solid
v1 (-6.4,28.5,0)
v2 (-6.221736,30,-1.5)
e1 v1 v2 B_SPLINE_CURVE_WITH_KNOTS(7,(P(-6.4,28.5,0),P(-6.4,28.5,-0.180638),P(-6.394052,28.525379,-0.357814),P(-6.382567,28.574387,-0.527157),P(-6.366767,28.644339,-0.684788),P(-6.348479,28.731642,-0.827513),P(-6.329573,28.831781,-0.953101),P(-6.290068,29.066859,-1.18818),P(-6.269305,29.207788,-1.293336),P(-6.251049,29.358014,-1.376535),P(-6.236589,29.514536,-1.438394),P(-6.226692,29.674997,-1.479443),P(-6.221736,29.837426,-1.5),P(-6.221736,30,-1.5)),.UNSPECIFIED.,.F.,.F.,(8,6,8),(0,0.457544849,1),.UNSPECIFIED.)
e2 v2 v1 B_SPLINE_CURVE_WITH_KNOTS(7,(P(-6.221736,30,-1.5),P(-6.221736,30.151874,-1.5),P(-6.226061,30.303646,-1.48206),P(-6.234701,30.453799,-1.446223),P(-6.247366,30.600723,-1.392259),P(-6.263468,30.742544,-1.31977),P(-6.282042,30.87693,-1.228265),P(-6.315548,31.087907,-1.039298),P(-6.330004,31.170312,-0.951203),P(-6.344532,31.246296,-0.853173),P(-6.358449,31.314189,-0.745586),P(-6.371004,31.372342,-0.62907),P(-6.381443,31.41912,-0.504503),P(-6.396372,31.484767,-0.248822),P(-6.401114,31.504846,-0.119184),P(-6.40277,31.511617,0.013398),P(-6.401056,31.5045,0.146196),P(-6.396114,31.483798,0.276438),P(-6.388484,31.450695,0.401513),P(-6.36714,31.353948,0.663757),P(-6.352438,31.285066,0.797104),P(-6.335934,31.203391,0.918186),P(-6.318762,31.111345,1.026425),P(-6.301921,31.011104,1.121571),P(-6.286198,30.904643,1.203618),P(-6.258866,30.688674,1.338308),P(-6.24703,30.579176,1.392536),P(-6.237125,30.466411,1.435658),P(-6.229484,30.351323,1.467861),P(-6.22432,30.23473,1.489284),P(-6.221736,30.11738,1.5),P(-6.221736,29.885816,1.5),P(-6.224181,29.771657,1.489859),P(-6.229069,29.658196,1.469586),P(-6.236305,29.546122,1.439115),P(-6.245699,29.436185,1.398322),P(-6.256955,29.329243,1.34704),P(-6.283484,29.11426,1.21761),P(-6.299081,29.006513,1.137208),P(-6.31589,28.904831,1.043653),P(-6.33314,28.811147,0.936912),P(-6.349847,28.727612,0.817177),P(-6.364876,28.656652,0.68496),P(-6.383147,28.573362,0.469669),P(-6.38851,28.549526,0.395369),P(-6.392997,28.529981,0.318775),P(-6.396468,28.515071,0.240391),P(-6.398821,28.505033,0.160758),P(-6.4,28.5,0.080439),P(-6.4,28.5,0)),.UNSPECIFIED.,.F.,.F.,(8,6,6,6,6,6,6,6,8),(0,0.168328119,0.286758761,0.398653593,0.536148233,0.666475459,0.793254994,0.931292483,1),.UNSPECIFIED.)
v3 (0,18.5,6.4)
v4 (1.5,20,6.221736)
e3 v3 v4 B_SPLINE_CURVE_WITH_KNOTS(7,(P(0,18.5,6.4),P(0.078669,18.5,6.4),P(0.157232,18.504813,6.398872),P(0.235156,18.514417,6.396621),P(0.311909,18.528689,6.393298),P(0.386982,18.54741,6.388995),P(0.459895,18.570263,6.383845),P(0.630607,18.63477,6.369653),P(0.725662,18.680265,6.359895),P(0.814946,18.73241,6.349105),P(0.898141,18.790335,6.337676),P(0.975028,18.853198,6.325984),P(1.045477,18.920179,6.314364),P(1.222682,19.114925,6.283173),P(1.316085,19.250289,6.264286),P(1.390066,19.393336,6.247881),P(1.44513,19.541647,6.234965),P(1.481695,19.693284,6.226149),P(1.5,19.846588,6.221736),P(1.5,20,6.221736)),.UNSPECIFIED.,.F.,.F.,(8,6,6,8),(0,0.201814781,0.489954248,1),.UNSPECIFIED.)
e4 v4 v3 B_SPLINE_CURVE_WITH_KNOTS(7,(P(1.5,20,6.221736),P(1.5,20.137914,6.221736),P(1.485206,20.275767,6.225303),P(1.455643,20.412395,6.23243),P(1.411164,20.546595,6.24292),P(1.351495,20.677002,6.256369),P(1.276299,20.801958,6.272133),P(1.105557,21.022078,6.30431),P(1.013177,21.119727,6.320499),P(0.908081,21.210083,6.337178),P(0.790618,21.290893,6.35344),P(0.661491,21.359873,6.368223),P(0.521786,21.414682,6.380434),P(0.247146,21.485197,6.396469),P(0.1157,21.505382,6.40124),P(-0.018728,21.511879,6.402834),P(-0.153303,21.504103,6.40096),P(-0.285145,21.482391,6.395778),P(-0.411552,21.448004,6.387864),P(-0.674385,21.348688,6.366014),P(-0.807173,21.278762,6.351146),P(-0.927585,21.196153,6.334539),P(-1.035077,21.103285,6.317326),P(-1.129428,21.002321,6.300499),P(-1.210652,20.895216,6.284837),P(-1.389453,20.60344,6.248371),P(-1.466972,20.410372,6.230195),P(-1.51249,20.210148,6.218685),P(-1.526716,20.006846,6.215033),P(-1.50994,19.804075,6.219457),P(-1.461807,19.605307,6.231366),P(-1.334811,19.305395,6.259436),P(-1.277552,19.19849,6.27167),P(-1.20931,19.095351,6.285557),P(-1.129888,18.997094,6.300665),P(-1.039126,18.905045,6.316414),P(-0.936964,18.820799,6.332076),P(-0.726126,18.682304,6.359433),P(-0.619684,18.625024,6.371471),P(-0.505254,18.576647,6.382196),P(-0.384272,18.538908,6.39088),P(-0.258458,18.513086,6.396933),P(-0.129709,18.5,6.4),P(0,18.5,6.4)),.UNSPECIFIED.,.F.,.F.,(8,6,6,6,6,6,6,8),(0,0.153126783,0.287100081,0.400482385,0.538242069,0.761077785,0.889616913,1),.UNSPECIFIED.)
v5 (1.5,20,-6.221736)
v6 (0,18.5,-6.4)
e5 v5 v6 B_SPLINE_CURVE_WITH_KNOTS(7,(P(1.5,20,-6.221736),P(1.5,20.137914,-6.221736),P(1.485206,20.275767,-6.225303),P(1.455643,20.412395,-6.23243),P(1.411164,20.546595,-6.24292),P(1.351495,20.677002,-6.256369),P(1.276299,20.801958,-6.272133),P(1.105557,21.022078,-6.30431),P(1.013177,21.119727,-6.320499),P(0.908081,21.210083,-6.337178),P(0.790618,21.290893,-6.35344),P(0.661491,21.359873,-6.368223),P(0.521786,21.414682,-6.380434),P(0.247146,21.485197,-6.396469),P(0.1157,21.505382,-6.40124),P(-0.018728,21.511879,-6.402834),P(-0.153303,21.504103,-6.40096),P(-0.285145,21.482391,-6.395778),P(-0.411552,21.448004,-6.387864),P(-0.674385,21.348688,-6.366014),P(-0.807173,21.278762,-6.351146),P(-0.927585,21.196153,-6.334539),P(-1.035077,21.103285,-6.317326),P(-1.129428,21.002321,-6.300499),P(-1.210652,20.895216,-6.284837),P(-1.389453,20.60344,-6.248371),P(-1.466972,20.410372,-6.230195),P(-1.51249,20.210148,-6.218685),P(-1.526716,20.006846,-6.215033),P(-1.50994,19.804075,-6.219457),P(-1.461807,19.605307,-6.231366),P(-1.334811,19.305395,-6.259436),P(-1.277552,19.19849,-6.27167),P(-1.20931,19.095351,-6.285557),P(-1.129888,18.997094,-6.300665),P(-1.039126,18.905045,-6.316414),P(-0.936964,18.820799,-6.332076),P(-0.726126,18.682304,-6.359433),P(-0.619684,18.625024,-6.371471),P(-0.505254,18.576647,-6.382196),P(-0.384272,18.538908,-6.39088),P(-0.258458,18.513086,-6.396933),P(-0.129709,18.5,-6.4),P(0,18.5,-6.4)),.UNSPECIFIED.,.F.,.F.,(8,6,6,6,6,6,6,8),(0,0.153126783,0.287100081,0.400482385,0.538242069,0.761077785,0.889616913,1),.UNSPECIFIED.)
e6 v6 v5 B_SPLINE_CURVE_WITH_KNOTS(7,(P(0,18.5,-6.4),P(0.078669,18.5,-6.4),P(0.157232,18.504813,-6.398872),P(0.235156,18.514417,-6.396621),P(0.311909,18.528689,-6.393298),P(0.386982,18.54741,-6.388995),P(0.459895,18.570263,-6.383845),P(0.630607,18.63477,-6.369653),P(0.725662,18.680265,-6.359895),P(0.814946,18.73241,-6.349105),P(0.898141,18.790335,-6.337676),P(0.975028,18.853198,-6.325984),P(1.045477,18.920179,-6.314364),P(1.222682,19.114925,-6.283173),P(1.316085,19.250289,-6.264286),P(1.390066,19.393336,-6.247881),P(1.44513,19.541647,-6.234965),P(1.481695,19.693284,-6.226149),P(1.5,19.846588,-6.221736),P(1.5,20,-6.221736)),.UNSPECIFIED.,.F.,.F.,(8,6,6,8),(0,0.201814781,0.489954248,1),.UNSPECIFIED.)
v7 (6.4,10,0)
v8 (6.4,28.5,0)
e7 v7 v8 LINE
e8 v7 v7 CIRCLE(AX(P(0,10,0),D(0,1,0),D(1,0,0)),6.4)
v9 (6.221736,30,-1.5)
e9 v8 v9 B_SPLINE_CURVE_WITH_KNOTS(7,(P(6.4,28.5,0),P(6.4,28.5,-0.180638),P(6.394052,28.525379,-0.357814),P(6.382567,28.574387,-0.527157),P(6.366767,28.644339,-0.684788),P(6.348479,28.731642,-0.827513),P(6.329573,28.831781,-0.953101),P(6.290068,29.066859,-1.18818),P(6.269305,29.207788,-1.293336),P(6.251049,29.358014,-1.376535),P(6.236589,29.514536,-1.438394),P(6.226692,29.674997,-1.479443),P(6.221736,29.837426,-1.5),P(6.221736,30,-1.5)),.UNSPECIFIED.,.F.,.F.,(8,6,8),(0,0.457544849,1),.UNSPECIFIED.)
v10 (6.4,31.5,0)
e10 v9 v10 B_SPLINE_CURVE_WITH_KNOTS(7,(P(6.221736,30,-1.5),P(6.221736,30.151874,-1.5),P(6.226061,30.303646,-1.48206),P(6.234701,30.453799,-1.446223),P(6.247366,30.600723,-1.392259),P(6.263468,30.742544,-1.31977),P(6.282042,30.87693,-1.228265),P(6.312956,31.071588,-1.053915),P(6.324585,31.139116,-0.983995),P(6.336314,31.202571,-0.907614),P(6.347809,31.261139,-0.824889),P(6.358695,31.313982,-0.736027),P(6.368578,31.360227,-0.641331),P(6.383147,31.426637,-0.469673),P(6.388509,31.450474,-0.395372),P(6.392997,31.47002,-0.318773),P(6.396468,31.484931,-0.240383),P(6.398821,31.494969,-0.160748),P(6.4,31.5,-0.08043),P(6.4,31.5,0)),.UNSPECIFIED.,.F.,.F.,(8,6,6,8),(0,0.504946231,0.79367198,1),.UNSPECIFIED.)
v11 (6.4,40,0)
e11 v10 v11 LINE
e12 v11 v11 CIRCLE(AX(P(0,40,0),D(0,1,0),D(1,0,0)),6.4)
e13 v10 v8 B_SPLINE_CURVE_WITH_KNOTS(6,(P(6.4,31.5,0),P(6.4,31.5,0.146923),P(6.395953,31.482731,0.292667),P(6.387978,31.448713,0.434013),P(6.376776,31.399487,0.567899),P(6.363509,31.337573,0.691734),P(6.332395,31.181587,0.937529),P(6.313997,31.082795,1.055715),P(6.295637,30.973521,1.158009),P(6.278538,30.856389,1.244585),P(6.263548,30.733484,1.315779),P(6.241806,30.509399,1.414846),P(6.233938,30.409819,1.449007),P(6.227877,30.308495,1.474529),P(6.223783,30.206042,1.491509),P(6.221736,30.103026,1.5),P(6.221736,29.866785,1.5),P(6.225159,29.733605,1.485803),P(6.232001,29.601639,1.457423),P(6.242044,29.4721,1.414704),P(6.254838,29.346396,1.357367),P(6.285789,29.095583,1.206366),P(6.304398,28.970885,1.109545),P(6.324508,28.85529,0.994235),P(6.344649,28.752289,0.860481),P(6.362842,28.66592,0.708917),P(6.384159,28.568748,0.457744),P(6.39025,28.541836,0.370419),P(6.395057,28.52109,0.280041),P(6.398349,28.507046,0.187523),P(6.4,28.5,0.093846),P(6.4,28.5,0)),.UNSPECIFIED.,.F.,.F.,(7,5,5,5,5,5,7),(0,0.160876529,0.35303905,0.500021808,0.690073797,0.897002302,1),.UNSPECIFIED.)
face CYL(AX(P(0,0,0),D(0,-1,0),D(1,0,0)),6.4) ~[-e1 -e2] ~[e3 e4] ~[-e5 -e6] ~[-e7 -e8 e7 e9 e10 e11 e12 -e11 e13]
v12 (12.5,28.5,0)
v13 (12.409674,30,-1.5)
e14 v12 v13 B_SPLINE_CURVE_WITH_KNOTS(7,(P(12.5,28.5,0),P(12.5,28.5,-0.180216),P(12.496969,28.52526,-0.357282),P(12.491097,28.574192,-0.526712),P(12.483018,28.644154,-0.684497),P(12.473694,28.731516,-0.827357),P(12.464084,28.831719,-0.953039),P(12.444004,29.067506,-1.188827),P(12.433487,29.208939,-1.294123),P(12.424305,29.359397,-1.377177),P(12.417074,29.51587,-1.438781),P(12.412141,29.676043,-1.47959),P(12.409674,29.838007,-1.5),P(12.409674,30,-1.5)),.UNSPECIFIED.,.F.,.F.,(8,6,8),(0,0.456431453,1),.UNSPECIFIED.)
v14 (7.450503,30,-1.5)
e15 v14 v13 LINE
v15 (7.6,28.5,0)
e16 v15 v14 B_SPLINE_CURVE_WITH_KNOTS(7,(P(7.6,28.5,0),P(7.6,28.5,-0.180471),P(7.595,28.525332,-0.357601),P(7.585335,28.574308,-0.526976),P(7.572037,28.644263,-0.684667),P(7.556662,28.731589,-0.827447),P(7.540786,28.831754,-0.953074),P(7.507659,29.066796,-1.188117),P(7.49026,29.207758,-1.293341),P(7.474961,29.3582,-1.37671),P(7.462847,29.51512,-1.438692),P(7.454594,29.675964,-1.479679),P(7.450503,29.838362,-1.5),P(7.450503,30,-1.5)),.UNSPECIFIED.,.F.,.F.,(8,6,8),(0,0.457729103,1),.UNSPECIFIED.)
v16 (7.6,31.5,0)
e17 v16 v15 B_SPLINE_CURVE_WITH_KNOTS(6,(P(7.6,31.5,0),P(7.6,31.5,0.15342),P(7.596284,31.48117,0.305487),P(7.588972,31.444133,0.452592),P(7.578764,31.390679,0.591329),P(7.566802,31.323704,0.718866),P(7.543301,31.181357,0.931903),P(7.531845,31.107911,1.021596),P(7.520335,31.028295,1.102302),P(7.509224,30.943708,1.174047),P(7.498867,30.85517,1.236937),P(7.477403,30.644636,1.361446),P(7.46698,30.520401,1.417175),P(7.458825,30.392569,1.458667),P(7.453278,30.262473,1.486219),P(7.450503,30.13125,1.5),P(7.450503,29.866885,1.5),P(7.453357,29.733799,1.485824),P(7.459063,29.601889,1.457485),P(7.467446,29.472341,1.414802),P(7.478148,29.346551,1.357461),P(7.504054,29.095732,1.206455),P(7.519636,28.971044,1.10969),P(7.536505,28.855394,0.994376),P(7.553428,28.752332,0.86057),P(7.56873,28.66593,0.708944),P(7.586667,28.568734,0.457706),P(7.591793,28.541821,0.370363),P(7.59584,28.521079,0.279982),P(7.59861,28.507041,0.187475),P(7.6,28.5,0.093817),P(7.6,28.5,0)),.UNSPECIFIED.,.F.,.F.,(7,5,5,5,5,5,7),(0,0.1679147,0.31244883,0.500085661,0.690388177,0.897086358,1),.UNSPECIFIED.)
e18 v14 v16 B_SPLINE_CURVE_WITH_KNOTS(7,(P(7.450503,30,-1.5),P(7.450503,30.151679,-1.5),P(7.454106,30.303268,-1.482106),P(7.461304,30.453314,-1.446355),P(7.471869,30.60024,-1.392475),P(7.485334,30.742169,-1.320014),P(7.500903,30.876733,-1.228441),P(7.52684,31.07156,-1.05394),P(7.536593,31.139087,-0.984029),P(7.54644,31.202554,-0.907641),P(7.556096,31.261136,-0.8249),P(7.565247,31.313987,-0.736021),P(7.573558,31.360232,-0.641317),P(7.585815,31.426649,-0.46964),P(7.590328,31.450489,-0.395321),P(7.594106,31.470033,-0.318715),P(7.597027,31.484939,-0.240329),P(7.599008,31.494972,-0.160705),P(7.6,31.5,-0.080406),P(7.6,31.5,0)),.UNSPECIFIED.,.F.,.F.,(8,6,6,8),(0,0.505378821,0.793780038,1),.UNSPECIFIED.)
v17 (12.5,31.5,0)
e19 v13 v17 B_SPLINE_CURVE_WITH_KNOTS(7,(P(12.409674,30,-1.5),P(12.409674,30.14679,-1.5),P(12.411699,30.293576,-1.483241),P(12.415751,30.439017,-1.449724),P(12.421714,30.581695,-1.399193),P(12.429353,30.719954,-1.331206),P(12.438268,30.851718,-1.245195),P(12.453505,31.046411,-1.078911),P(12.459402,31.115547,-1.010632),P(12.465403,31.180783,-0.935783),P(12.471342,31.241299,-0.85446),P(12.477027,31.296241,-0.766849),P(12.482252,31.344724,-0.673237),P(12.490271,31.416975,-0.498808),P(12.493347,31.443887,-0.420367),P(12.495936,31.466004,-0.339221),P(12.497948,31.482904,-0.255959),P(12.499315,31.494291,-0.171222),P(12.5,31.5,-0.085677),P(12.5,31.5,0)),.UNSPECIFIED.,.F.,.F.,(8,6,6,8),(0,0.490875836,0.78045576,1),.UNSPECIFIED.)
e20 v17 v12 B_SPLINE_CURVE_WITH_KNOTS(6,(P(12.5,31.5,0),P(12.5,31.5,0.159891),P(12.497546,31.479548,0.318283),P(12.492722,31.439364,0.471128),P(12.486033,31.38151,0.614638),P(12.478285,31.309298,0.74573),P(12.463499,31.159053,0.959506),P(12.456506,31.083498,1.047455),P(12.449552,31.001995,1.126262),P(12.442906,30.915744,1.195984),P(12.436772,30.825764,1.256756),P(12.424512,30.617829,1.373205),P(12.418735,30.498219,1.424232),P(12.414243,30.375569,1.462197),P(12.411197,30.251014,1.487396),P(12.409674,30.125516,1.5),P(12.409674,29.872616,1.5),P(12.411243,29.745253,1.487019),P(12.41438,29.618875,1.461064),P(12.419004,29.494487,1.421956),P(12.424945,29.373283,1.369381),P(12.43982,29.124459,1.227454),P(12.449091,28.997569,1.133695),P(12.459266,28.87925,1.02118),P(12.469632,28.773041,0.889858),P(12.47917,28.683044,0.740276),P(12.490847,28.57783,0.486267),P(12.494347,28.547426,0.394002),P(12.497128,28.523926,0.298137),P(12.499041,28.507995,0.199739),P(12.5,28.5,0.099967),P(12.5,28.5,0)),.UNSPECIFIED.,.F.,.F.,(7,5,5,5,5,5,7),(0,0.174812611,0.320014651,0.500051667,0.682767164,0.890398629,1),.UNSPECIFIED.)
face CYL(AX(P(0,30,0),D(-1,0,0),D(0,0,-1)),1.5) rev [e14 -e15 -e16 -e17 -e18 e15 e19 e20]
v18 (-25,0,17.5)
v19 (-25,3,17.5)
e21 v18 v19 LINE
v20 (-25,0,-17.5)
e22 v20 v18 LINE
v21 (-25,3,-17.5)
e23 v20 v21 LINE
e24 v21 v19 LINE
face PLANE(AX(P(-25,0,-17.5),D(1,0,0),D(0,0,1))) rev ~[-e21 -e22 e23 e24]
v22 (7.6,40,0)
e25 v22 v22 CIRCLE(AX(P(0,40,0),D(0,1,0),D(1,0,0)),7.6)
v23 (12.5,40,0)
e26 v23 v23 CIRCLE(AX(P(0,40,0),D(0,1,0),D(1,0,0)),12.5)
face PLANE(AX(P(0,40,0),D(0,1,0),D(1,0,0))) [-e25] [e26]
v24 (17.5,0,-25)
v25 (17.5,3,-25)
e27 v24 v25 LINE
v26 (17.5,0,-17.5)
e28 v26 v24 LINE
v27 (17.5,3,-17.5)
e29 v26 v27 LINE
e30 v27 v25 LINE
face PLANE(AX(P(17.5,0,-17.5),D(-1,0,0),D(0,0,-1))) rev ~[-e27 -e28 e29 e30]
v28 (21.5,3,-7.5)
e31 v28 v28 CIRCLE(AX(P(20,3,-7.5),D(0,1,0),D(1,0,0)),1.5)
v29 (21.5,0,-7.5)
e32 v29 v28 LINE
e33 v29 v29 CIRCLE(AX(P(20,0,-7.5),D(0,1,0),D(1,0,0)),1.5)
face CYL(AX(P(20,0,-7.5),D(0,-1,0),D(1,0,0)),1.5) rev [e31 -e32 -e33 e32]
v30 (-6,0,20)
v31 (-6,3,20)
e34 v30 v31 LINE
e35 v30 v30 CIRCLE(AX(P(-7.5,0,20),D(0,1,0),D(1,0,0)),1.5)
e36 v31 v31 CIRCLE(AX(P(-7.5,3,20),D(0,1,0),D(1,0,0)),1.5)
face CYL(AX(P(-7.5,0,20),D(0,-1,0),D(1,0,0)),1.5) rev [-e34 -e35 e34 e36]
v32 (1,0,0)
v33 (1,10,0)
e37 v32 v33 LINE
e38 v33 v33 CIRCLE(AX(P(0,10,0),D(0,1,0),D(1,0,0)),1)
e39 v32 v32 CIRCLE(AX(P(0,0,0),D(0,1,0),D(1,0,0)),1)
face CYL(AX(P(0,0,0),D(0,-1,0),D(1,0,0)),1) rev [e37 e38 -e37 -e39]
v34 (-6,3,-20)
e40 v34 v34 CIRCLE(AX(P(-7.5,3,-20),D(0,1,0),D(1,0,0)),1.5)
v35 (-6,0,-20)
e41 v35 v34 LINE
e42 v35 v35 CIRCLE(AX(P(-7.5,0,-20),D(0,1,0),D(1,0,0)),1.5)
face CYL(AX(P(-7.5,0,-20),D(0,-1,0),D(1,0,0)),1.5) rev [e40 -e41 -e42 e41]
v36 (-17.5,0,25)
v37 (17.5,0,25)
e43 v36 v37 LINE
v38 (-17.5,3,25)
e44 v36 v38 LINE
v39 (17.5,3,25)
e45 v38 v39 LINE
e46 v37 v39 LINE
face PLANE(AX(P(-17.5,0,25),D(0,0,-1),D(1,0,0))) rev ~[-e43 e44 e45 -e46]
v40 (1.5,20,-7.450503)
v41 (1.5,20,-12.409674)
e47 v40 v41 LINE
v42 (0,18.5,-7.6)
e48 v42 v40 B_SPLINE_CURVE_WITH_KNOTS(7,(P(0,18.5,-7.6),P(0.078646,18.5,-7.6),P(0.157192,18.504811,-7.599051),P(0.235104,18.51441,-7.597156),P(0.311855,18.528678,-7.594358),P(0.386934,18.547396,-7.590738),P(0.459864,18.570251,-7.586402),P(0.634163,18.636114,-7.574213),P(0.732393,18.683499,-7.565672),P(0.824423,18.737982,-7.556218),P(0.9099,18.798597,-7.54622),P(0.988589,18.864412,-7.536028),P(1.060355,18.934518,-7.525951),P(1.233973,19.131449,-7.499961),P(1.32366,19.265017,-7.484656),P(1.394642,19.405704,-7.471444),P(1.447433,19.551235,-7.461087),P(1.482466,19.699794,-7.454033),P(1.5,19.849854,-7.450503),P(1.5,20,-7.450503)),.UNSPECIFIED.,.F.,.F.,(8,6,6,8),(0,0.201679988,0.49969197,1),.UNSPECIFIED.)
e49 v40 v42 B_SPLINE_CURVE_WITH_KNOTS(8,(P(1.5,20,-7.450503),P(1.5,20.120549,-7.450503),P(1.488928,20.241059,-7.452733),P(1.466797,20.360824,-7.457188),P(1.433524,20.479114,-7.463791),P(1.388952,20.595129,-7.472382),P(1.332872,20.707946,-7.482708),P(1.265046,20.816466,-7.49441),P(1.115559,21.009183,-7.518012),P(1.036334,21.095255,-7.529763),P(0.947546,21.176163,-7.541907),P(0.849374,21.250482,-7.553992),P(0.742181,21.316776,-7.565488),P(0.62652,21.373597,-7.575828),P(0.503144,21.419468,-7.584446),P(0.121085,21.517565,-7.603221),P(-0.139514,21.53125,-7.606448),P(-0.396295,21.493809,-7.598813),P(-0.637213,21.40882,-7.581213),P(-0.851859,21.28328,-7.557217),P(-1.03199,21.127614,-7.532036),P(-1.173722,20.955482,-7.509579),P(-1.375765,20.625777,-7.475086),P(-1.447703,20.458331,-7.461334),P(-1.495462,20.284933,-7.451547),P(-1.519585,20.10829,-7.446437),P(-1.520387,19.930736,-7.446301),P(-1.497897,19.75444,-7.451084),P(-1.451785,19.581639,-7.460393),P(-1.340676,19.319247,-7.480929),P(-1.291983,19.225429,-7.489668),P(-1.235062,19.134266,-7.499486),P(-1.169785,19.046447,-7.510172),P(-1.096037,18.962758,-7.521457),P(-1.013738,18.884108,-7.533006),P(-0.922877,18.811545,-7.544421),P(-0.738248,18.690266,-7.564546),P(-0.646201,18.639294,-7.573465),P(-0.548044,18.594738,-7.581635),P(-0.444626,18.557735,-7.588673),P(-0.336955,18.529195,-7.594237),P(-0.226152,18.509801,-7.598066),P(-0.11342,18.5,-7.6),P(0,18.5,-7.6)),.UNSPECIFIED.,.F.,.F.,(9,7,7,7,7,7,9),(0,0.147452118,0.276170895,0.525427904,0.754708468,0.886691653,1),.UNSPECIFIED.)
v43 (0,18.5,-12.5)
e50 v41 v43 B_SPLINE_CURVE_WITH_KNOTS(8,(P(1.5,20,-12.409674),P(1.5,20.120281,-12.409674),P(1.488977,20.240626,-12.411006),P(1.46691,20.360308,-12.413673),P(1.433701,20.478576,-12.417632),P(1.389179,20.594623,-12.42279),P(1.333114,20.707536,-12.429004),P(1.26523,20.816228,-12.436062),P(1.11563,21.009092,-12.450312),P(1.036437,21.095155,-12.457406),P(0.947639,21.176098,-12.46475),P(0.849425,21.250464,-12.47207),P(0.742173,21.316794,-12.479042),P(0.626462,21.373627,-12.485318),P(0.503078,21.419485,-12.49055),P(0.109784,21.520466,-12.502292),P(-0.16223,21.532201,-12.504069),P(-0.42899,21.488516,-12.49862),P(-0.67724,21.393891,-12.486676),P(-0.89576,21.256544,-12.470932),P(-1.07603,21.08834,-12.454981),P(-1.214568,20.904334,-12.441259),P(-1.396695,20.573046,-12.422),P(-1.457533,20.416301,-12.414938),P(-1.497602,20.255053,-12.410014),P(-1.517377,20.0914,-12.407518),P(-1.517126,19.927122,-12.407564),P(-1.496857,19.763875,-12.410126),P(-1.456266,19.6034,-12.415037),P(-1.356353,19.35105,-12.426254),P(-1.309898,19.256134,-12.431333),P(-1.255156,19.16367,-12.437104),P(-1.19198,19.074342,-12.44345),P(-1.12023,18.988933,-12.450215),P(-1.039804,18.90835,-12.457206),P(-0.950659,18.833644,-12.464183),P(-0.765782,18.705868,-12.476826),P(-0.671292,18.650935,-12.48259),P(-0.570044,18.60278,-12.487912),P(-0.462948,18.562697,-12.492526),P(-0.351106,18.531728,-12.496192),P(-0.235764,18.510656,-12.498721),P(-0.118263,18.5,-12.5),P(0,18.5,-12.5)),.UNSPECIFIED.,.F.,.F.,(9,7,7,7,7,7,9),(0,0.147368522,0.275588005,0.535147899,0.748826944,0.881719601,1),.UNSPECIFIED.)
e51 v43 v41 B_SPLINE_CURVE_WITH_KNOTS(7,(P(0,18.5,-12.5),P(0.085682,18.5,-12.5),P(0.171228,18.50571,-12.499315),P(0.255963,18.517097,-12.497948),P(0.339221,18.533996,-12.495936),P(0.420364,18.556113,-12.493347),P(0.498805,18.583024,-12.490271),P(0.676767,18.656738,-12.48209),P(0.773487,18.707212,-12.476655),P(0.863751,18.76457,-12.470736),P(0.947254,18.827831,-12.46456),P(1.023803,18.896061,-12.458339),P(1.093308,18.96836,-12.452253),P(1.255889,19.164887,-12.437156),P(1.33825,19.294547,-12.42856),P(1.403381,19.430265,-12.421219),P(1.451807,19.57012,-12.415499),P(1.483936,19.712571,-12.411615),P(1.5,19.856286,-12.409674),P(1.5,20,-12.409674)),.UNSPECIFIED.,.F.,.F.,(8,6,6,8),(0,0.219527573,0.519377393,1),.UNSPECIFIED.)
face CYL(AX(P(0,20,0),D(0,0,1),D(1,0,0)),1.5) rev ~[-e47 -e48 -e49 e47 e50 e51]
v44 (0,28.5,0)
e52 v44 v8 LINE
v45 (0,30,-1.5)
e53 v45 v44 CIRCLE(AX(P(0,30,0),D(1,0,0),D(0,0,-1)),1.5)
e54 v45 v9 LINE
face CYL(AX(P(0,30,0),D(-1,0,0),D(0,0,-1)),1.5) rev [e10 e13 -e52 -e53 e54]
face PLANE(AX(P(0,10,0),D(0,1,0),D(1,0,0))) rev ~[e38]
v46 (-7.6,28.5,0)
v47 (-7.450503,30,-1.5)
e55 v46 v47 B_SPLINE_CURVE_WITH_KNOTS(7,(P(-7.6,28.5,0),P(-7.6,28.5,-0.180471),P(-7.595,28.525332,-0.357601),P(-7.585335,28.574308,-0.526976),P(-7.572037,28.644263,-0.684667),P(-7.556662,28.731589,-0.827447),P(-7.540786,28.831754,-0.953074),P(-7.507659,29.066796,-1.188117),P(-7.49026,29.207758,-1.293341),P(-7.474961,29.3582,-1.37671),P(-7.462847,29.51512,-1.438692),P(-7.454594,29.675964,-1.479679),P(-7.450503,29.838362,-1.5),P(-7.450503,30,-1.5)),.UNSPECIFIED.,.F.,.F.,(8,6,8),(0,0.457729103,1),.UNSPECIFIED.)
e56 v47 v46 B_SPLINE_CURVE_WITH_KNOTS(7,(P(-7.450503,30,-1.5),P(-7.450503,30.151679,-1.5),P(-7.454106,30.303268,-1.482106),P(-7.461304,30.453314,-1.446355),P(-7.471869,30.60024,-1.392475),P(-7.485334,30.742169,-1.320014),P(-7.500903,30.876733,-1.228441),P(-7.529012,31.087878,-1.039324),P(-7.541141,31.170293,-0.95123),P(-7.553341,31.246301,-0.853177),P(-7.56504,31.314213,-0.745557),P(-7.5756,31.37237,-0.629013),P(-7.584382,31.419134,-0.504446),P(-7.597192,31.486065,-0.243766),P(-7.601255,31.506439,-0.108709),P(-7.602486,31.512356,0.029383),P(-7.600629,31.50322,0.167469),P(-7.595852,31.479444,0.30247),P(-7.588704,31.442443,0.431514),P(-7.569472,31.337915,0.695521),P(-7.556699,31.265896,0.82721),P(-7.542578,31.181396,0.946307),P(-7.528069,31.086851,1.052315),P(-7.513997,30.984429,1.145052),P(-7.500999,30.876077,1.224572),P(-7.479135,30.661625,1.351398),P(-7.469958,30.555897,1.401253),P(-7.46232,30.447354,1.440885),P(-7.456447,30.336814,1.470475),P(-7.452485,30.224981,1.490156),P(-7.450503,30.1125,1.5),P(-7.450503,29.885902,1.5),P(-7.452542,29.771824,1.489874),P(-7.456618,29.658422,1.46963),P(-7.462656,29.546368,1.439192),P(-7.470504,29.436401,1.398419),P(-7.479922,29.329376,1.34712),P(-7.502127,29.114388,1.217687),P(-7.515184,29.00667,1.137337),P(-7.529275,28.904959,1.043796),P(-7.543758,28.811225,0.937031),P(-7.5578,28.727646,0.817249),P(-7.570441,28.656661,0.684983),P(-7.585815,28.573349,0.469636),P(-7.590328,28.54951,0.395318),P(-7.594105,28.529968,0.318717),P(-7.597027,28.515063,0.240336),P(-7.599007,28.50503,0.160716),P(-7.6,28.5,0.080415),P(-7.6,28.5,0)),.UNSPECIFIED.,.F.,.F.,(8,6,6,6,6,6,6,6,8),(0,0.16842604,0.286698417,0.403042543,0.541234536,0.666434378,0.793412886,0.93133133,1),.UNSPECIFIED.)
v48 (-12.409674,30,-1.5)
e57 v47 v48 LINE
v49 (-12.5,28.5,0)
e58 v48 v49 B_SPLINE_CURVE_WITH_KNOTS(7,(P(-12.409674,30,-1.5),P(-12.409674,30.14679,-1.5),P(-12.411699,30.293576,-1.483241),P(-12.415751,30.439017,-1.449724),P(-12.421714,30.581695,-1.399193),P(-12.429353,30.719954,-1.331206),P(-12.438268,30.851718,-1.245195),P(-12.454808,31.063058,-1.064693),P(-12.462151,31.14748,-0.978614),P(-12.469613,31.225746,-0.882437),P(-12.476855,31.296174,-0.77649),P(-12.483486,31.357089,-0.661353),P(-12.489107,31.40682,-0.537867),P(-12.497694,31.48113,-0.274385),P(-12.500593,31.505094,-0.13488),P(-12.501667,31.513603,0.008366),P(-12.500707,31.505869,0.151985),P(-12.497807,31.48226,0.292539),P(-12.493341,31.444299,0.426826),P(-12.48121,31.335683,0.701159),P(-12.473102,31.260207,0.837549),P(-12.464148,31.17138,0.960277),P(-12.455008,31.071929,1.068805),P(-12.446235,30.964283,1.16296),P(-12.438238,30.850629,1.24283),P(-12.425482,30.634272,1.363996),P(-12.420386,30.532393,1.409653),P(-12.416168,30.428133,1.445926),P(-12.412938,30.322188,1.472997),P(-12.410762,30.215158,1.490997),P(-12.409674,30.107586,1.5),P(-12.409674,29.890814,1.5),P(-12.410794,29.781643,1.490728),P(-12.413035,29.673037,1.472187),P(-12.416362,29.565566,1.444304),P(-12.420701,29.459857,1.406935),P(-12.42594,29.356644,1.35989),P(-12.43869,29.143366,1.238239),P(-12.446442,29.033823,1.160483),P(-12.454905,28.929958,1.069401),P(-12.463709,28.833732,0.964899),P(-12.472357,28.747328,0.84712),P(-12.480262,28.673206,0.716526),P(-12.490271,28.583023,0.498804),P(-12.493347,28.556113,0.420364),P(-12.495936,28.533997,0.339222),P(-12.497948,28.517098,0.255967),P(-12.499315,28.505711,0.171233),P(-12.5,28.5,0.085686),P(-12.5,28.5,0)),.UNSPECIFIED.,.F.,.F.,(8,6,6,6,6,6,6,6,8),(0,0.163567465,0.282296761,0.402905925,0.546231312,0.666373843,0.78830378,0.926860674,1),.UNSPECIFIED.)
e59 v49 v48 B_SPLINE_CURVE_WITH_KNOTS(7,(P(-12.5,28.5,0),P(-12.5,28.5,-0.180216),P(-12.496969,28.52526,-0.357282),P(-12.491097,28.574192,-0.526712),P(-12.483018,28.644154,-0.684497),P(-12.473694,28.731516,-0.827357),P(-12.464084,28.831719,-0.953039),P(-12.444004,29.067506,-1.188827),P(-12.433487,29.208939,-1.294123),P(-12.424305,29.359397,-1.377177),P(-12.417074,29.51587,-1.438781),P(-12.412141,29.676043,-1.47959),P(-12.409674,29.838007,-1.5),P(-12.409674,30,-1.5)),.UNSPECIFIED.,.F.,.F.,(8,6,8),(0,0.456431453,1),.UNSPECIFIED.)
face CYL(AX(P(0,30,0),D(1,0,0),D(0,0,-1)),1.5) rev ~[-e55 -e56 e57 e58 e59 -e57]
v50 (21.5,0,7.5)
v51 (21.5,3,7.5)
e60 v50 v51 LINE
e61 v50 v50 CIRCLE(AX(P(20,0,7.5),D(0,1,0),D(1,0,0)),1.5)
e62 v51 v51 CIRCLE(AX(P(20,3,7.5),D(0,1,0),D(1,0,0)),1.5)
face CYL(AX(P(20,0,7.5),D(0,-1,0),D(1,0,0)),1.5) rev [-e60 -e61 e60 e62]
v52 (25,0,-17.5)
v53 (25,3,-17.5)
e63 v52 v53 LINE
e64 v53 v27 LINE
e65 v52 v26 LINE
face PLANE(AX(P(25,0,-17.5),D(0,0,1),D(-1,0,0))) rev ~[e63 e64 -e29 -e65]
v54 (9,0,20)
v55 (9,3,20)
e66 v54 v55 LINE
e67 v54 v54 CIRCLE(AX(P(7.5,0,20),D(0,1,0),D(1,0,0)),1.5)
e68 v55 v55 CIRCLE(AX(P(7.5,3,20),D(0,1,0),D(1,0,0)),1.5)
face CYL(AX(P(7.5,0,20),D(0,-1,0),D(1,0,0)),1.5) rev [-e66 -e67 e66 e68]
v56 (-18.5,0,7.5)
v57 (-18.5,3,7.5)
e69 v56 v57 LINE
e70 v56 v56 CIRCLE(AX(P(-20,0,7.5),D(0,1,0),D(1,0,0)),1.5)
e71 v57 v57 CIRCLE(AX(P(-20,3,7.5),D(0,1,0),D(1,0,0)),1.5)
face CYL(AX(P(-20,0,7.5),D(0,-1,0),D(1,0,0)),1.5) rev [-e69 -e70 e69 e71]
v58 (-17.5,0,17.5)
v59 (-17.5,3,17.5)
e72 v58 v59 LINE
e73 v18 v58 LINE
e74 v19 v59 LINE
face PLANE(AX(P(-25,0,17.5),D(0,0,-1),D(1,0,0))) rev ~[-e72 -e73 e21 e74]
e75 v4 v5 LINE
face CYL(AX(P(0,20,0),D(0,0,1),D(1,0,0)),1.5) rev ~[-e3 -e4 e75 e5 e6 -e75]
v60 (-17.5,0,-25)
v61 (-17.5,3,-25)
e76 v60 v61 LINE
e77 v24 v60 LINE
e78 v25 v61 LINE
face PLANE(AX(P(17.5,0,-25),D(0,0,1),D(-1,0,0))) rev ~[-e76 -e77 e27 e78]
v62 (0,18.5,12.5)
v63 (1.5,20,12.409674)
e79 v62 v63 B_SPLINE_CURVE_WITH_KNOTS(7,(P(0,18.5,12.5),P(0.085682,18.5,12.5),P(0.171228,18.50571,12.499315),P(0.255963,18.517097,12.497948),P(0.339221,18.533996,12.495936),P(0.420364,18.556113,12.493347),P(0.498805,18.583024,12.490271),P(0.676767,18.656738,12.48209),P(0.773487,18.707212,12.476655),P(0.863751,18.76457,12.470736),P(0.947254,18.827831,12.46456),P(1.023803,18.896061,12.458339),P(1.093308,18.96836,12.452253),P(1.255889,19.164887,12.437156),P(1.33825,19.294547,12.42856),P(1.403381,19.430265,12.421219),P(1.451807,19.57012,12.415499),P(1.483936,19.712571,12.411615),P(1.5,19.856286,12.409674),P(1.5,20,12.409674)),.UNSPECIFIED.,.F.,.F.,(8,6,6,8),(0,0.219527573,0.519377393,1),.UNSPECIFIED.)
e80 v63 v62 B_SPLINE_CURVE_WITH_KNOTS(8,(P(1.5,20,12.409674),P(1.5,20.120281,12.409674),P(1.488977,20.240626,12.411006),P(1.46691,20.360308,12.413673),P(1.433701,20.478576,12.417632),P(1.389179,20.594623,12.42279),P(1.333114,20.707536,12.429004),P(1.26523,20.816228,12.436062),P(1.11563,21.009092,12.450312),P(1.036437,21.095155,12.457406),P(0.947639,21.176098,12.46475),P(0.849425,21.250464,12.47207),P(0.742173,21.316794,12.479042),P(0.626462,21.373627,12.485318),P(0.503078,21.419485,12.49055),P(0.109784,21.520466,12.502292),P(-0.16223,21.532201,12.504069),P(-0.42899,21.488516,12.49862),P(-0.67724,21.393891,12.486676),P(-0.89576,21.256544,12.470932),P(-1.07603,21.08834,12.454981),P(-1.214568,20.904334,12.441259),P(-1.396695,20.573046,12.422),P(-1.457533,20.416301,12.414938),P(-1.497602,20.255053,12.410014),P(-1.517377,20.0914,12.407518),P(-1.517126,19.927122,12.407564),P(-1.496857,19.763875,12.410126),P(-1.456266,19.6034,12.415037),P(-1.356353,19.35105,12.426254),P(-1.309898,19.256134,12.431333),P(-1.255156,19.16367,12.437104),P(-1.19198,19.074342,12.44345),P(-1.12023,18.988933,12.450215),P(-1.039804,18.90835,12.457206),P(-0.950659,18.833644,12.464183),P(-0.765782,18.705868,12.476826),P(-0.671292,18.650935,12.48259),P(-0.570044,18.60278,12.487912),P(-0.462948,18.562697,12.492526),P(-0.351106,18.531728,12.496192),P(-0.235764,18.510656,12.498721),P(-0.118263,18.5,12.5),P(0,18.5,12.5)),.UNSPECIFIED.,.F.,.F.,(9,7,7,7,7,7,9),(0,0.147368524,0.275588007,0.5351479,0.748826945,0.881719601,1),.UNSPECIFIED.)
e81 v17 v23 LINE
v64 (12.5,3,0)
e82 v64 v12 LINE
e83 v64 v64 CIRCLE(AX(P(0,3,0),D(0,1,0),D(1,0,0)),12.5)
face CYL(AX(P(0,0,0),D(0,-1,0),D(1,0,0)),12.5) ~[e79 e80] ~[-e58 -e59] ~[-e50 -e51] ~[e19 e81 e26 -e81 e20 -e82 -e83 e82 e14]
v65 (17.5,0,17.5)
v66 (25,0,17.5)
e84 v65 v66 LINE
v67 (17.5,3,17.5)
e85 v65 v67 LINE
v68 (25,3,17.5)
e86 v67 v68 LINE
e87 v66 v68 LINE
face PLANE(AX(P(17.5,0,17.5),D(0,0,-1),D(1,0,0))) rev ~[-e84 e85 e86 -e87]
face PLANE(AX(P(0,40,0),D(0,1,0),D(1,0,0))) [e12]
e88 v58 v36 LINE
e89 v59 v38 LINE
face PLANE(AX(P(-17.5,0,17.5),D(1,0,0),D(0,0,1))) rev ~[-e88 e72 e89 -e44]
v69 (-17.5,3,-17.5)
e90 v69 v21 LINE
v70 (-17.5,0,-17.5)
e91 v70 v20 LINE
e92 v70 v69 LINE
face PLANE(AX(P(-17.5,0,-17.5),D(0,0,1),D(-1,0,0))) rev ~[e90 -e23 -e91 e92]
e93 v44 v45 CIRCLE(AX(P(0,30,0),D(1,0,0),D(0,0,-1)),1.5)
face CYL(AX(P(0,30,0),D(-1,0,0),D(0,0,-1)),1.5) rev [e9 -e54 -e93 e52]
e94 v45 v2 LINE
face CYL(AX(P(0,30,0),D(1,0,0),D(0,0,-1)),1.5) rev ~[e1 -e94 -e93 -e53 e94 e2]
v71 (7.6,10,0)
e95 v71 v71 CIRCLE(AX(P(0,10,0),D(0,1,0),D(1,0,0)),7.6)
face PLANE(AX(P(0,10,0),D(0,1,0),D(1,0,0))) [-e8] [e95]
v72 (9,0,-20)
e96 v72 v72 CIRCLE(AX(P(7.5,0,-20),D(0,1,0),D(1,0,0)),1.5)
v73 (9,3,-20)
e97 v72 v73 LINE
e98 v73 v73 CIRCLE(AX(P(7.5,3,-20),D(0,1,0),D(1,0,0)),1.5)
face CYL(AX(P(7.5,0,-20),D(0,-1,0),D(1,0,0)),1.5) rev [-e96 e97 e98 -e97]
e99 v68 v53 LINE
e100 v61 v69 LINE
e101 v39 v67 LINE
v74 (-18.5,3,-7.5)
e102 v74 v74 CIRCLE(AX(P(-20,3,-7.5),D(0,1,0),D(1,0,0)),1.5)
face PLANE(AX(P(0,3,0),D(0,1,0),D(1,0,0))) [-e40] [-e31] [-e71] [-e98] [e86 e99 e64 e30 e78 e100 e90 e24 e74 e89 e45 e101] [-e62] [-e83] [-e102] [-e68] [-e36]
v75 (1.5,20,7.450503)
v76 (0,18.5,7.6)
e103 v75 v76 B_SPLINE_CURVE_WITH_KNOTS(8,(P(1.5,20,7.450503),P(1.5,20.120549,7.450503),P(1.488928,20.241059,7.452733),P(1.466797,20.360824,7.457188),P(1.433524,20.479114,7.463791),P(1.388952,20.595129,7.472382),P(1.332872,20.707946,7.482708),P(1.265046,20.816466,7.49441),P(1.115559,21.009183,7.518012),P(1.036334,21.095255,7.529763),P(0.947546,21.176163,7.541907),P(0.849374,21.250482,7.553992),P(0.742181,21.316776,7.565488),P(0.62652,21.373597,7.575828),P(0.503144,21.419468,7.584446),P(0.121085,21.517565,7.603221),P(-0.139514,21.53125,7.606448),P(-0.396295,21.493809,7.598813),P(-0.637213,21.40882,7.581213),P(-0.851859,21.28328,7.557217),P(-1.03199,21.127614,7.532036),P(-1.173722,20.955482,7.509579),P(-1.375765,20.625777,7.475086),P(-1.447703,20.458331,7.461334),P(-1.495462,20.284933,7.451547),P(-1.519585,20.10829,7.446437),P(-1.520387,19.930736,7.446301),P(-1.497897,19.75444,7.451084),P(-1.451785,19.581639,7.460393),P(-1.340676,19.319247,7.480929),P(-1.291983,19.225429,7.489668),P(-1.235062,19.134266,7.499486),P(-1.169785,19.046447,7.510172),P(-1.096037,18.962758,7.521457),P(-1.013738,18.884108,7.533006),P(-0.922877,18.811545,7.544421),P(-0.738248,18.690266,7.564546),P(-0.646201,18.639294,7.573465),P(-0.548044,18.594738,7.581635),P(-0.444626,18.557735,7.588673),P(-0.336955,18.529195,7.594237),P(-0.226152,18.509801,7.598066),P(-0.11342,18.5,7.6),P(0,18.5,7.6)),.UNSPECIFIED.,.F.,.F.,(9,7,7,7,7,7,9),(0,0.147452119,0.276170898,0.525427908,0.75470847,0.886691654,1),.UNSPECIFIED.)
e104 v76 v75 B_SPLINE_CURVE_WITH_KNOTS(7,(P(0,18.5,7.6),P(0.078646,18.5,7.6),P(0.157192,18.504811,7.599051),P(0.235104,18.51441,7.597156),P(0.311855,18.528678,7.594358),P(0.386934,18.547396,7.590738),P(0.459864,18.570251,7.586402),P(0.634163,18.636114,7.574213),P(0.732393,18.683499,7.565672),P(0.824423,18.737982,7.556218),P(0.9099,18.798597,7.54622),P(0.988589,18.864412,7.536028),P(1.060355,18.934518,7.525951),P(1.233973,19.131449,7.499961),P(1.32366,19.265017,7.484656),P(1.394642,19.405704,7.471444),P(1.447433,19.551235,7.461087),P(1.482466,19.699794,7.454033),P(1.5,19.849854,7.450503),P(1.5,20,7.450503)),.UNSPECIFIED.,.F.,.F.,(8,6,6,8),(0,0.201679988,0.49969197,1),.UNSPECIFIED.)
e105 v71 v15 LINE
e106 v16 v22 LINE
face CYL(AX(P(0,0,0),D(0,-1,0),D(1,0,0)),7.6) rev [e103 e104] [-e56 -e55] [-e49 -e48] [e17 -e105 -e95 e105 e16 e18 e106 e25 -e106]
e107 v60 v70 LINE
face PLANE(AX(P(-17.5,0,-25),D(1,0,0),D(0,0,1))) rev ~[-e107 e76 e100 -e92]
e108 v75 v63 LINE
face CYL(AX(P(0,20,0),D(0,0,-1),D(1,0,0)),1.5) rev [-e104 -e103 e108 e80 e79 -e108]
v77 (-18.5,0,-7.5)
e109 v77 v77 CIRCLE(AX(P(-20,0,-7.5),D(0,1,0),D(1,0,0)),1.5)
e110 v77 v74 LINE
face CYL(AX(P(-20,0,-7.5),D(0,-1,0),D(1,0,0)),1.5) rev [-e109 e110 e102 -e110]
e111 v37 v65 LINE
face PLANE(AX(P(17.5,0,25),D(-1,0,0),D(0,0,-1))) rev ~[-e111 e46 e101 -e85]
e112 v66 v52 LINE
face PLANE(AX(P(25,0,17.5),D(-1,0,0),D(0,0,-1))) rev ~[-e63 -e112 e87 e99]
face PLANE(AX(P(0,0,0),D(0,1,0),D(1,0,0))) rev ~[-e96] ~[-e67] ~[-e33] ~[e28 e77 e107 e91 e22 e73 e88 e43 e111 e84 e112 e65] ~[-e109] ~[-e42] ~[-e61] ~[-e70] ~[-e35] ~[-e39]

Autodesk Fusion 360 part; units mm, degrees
sketch "Sketch1" plane through (0, 0, 0) normal (0, 1, 0) x (1, 0, 0)
  line L0 (17.5, 25) -> (-17.5, 25)
  line L1 (-17.5, 25) -> (-17.5, -25)
  line L2 (-17.5, -25) -> (17.5, -25)
  line L3 (17.5, -25) -> (17.5, 25)
  line L4 (17.5, 25) -> (-17.5, -25) construction
  line L5 (-17.5, 25) -> (17.5, -25) construction
  line L6 (25, 17.5) -> (-25, 17.5)
  line L7 (-25, 17.5) -> (-25, -17.5)
  line L8 (-25, -17.5) -> (25, -17.5)
  line L9 (25, -17.5) -> (25, 17.5)
  line L10 (25, 17.5) -> (-25, -17.5) construction
  line L11 (-25, 17.5) -> (25, -17.5) construction
  circle A0 centre (0, 0) radius 7.6
  circle A1 centre (0, 0) radius 6.4
  circle A2 centre (0, 0) radius 12.5
  circle A3 centre (-20, 7.5) radius 1.5
  circle A4 centre (-20, -7.5) radius 1.5
  circle A5 centre (-7.5, -20) radius 1.5
  circle A6 centre (7.5, -20) radius 1.5
  circle A7 centre (20, -7.5) radius 1.5
  circle A8 centre (20, 7.5) radius 1.5
  circle A9 centre (7.5, 20) radius 1.5
  circle A10 centre (-7.5, 20) radius 1.5
  dimension "d1" = 50
  dimension "d2" = 35
  dimension "d3" = 50
  dimension "d4" = 35
  dimension "d5" = 15.2
  dimension "d6" = 12.8
  dimension "d7" = 25
  dimension "d8" = 3
  dimension "d9" = 3
  dimension "d10" = 10
  dimension "d11" = 10
  dimension "d12" = 5
  dimension "d13" = 5
  dimension "d15" = 360
extrude "Extrude1" add sketch "Sketch1" along normal blind 3 contours L0 L1 L3 L6 | L3 L6 L8 L9 | L1 L3 L6 L8 | L1 L6 L7 L8 | L1 L2 L3 L8 makes body 1
extrude "Extrude2" add sketch "Sketch1" along normal blind 10 separate body contours A0 makes body 2
extrude "Extrude3" add sketch "Sketch1" along normal blind 40 contours A1 | A2 bodies 1 2
sketch "Sketch2" plane through (0, 10, 0) normal (0, 1, 0) x (-1, 0, 0)
  circle A0 centre (0, 0) radius 6.4
  circle A1 centre (0, 0) radius 7.6
sketch "Sketch4" plane through (0, 0, 0) normal (0, 0, 1) x (1, 0, 0)
  circle A0 centre (0, 20) radius 1.5
  line L0 (0, 20) -> (0, 0)
  dimension "d22" = 3
  dimension "d23" = 20
extrude "Extrude4" cut sketch "Sketch4" against normal blind 30 bodies 1
extrude "Extrude5" cut sketch "Sketch4" along normal blind 30 bodies 1
sketch "Sketch6" plane through (0, 0, 0) normal (1, 0, 0) x (0, 0, -1)
  circle A0 centre (0, 30) radius 1.5
  line L0 (0, 30) -> (0, 0)
  dimension "d28" = 3
  dimension "d29" = 30
extrude "Extrude6" cut sketch "Sketch6" against normal blind 30 bodies 1
extrude "Extrude7" cut sketch "Sketch6" along normal blind 30 bodies 1
sketch "Sketch7" plane through (0, 0, 0) normal (0, 1, 0) x (1, 0, 0)
  circle A0 centre (0, 0) radius 1
  dimension "d34" = 2
extrude "Extrude8" cut sketch "Sketch7" along normal blind 10 bodies 1
